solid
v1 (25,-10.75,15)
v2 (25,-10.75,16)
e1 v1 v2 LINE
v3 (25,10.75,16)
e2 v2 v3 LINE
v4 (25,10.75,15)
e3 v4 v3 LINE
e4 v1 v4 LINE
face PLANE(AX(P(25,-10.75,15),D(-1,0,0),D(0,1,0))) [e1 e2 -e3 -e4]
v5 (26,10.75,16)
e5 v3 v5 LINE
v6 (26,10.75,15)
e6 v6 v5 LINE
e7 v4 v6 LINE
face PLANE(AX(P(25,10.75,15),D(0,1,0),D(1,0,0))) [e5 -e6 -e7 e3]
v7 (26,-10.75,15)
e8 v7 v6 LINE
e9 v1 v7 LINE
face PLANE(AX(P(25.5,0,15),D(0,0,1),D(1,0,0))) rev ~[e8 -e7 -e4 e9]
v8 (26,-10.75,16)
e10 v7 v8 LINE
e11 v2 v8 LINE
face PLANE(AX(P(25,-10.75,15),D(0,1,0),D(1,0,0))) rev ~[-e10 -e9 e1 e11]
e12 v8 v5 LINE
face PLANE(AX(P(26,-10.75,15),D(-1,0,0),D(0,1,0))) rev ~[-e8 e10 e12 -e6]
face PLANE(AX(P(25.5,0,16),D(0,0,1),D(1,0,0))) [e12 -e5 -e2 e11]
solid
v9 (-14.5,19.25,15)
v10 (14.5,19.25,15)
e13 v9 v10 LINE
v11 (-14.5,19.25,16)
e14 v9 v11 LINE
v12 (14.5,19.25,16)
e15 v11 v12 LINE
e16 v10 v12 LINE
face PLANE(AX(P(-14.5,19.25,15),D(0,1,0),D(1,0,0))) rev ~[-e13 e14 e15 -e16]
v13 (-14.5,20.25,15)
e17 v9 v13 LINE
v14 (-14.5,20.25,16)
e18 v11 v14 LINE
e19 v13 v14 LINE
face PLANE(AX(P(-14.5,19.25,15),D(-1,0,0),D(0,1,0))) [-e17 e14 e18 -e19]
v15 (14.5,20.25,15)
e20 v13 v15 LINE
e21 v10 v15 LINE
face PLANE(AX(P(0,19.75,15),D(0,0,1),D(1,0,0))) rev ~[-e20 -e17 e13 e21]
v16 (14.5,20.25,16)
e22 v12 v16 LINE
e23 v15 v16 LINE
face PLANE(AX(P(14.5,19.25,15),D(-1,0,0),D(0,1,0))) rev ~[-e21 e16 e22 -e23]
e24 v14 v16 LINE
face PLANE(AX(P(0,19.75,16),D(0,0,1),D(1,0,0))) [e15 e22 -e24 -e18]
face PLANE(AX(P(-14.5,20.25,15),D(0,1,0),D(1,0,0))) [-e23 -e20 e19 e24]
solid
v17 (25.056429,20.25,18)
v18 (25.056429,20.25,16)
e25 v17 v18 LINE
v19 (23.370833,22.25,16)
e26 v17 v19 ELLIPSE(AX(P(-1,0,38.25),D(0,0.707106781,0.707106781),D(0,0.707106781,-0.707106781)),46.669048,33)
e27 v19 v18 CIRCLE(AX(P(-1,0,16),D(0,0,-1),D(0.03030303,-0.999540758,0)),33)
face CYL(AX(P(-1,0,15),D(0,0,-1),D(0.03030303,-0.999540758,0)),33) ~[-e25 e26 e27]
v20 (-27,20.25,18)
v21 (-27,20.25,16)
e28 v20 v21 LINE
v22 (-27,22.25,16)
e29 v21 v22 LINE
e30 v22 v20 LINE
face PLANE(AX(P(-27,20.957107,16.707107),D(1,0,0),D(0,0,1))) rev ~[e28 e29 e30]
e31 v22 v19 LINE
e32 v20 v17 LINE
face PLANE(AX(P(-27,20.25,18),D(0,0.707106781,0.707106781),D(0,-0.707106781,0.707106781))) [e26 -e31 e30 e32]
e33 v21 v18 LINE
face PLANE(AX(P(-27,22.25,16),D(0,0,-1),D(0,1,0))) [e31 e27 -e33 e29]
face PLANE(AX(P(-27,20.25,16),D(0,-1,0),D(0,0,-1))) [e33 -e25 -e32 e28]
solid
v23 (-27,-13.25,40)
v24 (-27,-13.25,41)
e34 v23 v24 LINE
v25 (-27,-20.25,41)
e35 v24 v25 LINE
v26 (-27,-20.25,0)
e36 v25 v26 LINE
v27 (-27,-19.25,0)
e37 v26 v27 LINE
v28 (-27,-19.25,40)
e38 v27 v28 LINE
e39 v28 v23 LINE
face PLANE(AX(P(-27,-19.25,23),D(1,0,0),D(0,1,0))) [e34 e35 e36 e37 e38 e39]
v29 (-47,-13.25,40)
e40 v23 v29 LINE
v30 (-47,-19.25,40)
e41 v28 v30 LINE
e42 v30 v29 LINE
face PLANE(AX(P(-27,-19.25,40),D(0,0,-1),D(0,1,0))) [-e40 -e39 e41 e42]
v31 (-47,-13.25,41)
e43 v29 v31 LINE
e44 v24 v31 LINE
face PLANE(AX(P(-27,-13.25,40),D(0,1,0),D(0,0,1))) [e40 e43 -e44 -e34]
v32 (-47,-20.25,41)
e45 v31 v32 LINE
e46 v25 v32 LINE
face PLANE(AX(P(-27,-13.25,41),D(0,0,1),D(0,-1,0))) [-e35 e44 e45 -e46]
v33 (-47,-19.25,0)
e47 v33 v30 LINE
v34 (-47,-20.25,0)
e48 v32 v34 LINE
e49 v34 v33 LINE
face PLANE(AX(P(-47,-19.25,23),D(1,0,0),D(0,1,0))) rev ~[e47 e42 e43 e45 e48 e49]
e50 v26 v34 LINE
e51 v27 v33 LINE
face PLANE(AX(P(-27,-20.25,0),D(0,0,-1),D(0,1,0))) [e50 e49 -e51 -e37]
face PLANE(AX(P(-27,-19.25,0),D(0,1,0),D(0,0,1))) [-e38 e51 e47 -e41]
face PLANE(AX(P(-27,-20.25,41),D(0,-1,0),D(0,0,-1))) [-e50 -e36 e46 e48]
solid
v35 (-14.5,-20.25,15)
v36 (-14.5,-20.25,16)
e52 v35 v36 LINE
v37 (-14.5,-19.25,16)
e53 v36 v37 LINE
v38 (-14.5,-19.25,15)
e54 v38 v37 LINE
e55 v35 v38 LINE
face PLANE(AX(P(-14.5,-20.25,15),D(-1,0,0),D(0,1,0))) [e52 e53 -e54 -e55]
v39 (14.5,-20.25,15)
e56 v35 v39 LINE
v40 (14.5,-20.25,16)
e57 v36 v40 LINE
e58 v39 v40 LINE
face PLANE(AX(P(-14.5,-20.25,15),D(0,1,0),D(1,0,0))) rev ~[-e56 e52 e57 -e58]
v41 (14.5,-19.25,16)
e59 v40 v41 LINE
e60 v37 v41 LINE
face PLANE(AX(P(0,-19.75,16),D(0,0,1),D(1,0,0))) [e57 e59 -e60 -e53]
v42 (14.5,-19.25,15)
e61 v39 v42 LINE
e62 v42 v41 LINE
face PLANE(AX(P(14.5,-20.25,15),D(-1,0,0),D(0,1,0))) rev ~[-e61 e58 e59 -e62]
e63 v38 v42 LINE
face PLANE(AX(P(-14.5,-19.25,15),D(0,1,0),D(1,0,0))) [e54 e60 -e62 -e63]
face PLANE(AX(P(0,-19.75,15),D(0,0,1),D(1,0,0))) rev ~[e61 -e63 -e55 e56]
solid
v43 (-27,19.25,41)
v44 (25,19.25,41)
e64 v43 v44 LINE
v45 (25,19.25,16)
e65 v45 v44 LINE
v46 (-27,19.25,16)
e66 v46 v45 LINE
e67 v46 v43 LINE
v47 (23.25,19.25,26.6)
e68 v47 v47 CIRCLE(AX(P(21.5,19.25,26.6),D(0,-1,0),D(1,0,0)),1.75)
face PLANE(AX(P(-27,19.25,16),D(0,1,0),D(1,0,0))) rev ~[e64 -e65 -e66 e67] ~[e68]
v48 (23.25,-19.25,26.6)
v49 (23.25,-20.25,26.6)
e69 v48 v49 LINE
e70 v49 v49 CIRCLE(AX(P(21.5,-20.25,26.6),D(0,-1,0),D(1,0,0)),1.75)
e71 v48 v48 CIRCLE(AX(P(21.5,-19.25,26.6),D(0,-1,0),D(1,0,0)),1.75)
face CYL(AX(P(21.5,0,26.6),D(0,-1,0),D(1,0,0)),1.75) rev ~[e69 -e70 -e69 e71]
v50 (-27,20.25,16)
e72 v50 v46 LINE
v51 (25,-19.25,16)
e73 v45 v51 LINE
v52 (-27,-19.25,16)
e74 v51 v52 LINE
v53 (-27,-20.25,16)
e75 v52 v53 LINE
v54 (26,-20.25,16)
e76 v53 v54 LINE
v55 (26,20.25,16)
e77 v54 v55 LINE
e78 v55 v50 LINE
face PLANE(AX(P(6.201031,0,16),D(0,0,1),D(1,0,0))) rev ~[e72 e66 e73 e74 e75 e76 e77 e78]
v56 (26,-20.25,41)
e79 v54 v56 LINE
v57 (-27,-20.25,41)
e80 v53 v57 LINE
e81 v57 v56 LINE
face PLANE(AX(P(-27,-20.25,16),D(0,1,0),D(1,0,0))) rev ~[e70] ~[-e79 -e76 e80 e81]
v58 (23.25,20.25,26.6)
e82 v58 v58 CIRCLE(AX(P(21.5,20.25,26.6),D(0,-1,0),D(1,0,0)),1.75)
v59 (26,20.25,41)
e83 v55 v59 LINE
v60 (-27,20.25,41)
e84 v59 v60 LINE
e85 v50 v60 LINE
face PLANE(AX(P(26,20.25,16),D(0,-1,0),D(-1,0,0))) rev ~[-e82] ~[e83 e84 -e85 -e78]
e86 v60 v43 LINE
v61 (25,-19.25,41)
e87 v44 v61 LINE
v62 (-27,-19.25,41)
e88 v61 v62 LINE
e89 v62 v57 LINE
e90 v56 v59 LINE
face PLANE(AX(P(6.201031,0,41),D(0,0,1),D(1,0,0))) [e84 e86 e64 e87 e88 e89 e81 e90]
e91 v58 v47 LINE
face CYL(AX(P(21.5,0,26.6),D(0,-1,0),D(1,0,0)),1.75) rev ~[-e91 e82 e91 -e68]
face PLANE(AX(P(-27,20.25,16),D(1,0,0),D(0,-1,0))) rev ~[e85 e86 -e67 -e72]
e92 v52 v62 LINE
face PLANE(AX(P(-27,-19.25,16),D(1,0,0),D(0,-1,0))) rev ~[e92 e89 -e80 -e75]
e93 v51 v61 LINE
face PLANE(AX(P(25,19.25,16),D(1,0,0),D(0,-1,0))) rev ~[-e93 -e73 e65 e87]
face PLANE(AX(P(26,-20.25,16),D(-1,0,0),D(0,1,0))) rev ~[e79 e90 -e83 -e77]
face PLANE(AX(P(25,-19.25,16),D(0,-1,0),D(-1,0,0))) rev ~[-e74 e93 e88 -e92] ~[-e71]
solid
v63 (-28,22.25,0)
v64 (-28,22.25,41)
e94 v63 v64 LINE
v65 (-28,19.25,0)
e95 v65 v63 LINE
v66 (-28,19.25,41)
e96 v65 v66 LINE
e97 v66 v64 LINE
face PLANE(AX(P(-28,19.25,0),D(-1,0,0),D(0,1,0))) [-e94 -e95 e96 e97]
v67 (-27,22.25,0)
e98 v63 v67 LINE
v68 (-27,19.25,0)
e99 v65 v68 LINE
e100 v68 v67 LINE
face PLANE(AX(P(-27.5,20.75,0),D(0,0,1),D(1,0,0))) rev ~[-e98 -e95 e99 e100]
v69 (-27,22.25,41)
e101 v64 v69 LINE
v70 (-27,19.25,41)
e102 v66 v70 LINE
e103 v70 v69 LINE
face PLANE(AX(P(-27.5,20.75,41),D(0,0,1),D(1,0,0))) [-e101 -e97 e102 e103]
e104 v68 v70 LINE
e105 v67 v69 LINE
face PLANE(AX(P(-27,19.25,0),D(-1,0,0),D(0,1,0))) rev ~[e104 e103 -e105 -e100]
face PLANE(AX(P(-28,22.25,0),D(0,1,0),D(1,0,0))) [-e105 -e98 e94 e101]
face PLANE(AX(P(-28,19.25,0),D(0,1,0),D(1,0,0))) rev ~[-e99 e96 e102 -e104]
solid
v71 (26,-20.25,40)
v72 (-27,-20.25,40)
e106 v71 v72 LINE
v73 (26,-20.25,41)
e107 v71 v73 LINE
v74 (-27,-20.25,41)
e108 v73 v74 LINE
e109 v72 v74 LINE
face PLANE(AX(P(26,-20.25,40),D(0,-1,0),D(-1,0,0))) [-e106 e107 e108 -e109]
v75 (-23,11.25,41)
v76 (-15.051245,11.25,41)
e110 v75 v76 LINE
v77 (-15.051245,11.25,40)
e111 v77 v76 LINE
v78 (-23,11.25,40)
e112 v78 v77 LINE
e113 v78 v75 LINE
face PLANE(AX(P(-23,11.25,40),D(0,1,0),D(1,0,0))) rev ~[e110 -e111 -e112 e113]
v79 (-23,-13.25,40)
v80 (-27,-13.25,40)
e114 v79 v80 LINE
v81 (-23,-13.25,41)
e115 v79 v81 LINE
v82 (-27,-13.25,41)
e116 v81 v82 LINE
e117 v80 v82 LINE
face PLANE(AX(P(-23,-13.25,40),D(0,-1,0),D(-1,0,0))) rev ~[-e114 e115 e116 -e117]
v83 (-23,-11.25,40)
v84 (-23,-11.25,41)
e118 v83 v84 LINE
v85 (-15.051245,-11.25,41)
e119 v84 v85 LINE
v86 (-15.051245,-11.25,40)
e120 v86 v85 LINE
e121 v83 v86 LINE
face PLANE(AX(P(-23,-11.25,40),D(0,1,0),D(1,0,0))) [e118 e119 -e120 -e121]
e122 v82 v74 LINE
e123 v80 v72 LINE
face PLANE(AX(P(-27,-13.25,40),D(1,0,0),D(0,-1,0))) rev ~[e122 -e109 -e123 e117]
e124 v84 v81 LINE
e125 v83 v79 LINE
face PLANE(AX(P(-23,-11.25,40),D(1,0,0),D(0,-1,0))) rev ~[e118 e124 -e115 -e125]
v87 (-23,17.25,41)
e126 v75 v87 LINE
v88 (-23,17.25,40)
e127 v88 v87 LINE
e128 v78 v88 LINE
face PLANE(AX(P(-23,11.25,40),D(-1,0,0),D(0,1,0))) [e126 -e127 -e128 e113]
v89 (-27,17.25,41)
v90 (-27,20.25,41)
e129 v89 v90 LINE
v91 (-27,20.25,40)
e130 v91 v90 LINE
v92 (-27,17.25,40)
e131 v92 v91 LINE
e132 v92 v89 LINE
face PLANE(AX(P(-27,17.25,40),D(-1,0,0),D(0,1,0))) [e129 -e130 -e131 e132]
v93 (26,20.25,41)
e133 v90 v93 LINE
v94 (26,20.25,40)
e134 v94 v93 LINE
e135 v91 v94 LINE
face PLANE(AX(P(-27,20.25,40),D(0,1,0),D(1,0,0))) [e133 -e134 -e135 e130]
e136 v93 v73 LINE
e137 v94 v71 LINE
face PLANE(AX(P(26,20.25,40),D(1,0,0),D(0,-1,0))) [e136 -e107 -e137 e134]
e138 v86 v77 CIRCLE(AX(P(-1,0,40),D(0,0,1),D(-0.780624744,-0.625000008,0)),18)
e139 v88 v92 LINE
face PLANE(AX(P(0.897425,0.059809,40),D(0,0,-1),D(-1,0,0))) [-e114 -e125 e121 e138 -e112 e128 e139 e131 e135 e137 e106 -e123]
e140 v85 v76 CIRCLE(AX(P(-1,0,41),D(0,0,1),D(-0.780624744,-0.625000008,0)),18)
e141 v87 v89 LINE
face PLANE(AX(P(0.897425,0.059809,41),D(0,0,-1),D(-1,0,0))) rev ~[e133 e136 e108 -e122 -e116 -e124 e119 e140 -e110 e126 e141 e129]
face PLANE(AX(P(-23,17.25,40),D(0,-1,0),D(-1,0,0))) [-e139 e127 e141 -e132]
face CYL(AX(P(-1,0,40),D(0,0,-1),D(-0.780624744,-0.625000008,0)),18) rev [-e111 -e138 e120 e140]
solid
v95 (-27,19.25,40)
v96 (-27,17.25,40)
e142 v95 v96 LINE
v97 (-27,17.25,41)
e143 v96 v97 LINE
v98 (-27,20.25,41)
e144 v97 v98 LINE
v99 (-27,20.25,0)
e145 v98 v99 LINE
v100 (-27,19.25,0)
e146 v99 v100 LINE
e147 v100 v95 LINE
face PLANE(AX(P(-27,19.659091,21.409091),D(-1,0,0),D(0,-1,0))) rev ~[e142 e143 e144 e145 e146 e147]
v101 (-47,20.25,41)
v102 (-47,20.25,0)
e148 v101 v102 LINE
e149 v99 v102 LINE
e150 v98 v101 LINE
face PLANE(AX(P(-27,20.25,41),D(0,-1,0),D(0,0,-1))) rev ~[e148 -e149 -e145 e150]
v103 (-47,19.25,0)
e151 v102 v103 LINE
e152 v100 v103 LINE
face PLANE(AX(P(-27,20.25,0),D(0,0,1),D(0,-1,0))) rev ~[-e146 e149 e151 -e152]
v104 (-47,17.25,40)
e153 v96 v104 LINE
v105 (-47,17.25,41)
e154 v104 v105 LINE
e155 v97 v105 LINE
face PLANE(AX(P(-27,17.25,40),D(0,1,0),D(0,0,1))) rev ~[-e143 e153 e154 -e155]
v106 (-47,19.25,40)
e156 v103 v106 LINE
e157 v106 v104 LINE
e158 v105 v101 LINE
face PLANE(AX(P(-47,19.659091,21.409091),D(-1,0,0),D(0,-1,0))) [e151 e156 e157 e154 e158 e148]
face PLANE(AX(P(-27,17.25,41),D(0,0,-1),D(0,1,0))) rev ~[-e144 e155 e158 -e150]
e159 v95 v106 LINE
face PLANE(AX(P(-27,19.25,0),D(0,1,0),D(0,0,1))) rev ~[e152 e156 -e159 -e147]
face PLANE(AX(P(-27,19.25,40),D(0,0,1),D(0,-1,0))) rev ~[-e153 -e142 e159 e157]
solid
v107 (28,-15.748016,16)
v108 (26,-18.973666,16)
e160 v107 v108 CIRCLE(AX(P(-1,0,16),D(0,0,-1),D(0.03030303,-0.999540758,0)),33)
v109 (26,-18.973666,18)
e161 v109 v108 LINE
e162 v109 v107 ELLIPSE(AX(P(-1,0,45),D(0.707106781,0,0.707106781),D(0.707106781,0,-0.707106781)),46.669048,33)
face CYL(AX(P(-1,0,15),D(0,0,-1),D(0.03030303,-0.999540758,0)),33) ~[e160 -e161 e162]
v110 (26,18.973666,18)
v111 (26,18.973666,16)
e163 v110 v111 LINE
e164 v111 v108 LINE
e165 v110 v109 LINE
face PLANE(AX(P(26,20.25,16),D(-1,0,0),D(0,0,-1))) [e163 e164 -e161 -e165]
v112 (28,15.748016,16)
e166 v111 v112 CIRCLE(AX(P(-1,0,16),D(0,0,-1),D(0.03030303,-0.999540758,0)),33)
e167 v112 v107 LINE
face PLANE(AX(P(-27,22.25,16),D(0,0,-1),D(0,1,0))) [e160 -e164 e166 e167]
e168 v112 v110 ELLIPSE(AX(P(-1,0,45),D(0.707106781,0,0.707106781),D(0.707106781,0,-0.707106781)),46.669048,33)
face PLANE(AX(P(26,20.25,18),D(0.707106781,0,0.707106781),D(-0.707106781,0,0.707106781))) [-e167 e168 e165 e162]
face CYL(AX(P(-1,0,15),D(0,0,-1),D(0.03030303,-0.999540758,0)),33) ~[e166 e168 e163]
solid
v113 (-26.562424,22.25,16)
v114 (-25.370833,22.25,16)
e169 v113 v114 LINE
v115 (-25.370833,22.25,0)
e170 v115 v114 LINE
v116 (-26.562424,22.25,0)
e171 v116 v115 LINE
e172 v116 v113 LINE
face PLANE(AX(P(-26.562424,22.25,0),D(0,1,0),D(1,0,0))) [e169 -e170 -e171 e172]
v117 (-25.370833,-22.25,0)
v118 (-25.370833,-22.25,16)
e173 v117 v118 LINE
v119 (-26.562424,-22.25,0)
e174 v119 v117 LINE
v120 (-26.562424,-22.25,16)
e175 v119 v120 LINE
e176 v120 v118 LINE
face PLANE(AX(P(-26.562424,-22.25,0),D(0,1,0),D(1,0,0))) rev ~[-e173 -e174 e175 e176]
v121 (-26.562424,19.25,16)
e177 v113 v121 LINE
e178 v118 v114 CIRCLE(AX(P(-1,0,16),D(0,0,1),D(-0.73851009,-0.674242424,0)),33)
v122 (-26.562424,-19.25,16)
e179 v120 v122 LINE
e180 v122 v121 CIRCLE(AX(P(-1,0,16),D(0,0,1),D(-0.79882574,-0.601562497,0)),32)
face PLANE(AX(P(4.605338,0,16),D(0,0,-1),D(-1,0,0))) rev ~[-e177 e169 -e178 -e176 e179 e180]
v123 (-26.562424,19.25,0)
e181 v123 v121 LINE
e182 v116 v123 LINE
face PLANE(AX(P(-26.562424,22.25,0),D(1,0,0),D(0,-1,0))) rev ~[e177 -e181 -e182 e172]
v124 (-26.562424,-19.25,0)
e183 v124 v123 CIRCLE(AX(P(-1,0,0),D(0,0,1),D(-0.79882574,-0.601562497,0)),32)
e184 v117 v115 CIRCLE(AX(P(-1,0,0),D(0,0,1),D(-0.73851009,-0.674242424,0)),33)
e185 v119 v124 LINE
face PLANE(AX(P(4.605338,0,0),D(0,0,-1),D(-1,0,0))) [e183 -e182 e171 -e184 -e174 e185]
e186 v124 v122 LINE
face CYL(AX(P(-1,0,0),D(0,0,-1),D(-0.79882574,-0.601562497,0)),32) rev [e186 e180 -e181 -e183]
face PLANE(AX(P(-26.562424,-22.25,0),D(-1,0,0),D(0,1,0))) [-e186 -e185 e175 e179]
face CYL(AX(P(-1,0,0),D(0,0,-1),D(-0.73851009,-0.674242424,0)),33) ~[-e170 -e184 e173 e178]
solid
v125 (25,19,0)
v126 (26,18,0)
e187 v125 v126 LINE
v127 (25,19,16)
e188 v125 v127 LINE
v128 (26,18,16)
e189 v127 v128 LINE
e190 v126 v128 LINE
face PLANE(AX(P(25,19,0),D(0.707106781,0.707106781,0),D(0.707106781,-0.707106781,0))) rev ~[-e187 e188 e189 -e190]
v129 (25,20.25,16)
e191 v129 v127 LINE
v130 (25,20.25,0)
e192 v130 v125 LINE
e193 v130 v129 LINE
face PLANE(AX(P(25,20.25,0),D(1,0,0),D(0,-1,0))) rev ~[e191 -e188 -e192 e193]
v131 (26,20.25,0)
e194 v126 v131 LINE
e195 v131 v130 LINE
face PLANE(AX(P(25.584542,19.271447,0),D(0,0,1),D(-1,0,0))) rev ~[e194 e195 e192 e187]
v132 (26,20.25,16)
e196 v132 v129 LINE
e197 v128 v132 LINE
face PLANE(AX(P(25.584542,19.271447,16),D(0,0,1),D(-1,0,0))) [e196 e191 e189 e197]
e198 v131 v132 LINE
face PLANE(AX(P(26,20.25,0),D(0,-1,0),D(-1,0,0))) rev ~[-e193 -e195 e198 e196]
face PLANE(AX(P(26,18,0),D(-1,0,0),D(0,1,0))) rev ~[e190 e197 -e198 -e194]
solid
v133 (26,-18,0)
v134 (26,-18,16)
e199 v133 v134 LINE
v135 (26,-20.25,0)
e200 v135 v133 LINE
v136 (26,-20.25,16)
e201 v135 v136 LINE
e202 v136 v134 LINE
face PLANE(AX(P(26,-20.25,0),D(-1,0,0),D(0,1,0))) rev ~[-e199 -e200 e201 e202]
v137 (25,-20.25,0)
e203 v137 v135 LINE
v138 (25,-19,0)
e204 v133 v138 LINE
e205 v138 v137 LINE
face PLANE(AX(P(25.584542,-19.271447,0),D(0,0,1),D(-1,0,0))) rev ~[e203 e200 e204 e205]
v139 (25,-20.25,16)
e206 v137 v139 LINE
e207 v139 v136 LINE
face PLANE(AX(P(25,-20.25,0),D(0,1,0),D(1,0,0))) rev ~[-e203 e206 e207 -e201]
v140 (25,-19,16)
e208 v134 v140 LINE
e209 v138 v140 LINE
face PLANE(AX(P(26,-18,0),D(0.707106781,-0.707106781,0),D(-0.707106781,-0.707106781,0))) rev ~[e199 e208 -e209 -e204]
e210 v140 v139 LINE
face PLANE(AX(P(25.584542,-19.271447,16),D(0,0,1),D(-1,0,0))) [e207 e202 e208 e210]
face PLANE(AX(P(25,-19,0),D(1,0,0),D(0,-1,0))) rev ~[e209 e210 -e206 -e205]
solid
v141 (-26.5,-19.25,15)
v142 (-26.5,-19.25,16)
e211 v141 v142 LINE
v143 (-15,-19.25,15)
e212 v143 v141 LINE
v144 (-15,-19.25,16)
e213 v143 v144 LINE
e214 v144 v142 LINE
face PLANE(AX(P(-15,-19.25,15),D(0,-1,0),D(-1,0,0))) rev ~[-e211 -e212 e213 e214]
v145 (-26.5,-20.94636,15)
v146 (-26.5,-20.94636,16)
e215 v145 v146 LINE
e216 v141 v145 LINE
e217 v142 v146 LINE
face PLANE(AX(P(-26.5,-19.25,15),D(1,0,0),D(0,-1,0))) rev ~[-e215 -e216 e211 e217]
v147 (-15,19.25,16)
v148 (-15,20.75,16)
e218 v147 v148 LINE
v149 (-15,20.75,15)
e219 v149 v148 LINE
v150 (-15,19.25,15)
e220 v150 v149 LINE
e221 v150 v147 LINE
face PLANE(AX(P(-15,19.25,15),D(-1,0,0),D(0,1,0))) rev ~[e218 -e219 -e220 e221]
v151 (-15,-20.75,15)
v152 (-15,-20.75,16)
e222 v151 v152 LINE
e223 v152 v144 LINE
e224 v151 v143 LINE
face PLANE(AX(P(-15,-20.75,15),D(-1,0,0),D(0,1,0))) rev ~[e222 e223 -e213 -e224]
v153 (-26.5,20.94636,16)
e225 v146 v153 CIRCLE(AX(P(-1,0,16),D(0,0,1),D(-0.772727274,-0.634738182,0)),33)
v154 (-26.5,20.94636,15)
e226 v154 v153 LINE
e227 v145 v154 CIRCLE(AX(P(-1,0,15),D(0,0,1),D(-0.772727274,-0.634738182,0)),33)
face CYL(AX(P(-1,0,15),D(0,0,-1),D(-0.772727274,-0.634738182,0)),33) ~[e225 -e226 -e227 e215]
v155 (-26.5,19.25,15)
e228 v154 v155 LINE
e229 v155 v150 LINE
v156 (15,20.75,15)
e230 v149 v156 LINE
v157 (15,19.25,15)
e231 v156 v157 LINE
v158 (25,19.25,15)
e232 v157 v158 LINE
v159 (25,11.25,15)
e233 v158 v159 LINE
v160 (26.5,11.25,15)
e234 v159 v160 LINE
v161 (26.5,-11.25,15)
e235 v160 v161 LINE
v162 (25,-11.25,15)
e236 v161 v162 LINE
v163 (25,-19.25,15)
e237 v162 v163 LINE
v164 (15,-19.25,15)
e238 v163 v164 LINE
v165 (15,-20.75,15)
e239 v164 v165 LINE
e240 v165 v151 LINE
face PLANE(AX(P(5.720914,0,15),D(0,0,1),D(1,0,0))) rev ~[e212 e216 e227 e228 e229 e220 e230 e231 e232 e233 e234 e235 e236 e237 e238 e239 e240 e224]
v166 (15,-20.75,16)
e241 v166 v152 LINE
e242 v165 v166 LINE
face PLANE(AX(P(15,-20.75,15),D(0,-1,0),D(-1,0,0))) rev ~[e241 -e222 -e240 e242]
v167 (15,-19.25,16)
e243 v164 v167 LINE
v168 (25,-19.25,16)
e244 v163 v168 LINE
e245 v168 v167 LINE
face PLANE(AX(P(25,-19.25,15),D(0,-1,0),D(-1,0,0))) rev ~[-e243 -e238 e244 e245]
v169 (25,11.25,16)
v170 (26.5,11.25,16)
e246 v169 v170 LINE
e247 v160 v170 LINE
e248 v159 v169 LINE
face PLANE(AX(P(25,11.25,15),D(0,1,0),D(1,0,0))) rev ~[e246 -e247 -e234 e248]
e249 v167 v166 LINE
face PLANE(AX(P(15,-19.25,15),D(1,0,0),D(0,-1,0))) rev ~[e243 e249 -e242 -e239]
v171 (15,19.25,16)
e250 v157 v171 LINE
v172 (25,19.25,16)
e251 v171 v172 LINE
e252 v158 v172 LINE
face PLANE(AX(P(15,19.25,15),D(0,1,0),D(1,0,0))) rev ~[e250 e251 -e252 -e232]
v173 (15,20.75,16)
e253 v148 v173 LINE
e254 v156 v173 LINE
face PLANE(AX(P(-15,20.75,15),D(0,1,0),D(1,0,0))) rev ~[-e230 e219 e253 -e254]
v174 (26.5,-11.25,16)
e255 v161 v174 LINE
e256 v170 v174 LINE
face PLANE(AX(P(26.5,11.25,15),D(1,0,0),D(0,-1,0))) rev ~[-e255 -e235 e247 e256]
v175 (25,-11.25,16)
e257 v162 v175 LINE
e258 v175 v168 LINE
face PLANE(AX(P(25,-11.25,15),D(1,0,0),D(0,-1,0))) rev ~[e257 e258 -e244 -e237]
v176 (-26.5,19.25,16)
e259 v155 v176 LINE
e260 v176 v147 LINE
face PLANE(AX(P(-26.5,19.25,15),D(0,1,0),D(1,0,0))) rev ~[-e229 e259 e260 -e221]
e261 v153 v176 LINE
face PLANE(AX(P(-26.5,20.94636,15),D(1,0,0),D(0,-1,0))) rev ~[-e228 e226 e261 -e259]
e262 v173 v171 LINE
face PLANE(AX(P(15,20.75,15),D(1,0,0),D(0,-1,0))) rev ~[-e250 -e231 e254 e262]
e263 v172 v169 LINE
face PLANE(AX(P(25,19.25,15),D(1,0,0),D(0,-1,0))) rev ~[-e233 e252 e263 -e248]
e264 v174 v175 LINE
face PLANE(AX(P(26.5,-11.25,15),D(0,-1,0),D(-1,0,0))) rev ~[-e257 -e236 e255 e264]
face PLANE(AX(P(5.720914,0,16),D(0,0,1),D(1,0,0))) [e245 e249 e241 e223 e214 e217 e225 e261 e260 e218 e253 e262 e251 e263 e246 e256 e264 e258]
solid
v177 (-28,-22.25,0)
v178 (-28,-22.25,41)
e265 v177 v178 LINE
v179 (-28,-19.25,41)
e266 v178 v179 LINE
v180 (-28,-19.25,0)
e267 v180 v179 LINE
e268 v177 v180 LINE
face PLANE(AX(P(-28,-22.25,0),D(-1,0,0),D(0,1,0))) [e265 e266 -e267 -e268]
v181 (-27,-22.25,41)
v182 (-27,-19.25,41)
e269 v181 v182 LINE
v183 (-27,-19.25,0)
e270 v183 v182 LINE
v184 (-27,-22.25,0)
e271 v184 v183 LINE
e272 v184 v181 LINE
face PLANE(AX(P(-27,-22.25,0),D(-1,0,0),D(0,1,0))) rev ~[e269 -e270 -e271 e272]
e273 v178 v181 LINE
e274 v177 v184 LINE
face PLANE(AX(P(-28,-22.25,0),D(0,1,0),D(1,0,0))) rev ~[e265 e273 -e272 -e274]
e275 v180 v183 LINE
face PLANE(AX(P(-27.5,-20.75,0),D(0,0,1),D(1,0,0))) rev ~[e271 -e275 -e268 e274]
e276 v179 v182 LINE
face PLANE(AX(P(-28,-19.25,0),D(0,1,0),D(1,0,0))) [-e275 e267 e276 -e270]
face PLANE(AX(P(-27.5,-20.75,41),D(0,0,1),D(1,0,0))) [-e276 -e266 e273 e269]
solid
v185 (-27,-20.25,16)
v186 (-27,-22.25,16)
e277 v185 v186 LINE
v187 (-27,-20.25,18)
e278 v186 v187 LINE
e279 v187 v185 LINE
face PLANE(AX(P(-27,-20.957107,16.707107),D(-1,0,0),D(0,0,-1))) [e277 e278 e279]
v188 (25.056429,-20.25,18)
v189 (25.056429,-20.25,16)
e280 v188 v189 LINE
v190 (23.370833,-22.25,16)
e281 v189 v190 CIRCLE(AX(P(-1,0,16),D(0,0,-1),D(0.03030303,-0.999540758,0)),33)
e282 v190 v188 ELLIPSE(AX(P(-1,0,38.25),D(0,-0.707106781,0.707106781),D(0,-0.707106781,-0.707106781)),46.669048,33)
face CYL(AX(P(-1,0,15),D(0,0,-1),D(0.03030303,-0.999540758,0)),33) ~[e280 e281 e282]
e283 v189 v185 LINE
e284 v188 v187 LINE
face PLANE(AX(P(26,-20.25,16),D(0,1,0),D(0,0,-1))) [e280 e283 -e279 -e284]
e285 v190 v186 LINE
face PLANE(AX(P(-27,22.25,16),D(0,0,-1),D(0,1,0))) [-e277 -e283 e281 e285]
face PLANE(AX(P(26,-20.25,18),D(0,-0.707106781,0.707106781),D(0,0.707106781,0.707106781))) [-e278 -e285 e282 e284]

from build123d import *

# Parameters (mm, degrees)
EXTRUDE_DEPTH    = 16
EXTRUDE001_DEPTH = 1
EXTRUDE004_DEPTH = 1
SKETCH003_R      = 1.75
EXTRUDE003_DEPTH = 25
EXTRUDE002_DEPTH = 25
EXTRUDE005_DEPTH = 5
SKETCH008_W      = 29
SKETCH008_H      = 1
SKETCH008_W_2    = 1
SKETCH008_H_2    = 21.5
EXTRUDE006_DEPTH = 1
EXTRUDE007_DEPTH = 16
EXTRUDE008_DEPTH = 20
SKETCH011_W      = 1
SKETCH011_H      = 3
EXTRUDE009_DEPTH = 41


with BuildPart() as extrude_body:
    # Sketch → Extrude (new body)
    with BuildSketch(Plane.XY):
        with BuildLine():
            ThreePointArc((-26.562424, -19.25), (31, 0), (-26.562424, 19.25))
            Line((-26.562424, 22.25), (-26.562424, 19.25))
            Line((-26.562424, 22.25), (-25.370833, 22.25))
            ThreePointArc((-25.370833, -22.25), (32, 0), (-25.370833, 22.25))
            Line((-26.562424, -22.25), (-25.370833, -22.25))
            Line((-26.562424, -22.25), (-26.562424, -19.25))
        make_face()
    extrude(amount=EXTRUDE_DEPTH)


with BuildPart() as extrude001:
    # Sketch001 → Extrude001 (new body)
    with BuildSketch(Plane.XY.offset(15)):
        with BuildLine():
            ThreePointArc((-26.5, -20.94636), (32, 0), (-26.5, 20.94636))
            Line((-26.5, 20.94636), (-26.5, 19.25))
            Line((-26.5, 19.25), (-15, 19.25))
            Line((-15, 19.25), (-15, 20.75))
            Line((-15, 20.75), (15, 20.75))
            Line((15, 20.75), (15, 19.25))
            Line((15, 19.25), (25, 19.25))
            Line((25, 19.25), (25, 11.25))
            Line((25, 11.25), (26.5, 11.25))
            Line((26.5, 11.25), (26.5, -11.25))
            Line((26.5, -11.25), (25, -11.25))
            Line((25, -11.25), (25, -19.25))
            Line((25, -19.25), (15, -19.25))
            Line((15, -19.25), (15, -20.75))
            Line((15, -20.75), (-15, -20.75))
            Line((-15, -20.75), (-15, -19.25))
            Line((-15, -19.25), (-26.5, -19.25))
            Line((-26.5, -19.25), (-26.5, -20.94636))
        make_face()
    extrude(amount=EXTRUDE001_DEPTH)


with BuildPart() as extrude004:
    # Sketch004 → Extrude004 (new body)
    with BuildSketch(Plane.XY.offset(40)):
        with BuildLine():
            Line((-27, 20.25), (26, 20.25))
            Line((26, 20.25), (26, -20.25))
            Line((26, -20.25), (-27, -20.25))
            Line((-27, -13.25), (-27, -20.25))
            Line((-23, -13.25), (-27, -13.25))
            Line((-23, -11.25), (-23, -13.25))
            Line((-23, -11.25), (-15.051245, -11.25))
            ThreePointArc((-15.051245, -11.25), (17, 0), (-15.051245, 11.25))
            Line((-23, 11.25), (-15.051245, 11.25))
            Line((-23, 11.25), (-23, 17.25))
            Line((-23, 17.25), (-27, 17.25))
            Line((-27, 17.25), (-27, 20.25))
        make_face()
    extrude(amount=EXTRUDE004_DEPTH)


with BuildPart() as extrude003:
    # Sketch003 → Extrude003 (new body, symmetric)
    with BuildSketch(Plane.XZ):
        with Locations((21.5, 26.6)):
            Circle(SKETCH003_R)
    extrude(amount=EXTRUDE003_DEPTH, both=True)


with BuildPart() as cut:
    # Sketch002 → Extrude002 (new body)
    with BuildSketch(Plane.XY.offset(16)):
        Polygon((-27, 19.25), (25, 19.25), (25, -19.25), (-27, -19.25), (-27, -20.25), (26, -20.25), (26, 20.25), (-27, 20.25), align=None)
    extrude(amount=EXTRUDE002_DEPTH)

    # Cut: cut Extrude003
    add(extrude003.part, mode=Mode.SUBTRACT)


with BuildPart() as sweep_body:
    # Sweep: sweep along a path in Sketch006
    with BuildLine(Plane.XY.offset(16)) as sweep_path:
        Line((-27, 20.25), (26, 20.25))
        Line((26, 20.25), (26, -20.25))
        Line((26, -20.25), (-27, -20.25))
    # Sketch005 → Sweep (sweep)
    with BuildSketch(Plane.XZ):
        Polygon((26, 18), (28, 16), (26, 16), align=None)
    sweep(path=sweep_path.line, transition=Transition.RIGHT)


with BuildPart() as common:
    # Sketch007 → Extrude005 (new body)
    with BuildSketch(Plane.XY.offset(15)):
        with BuildLine():
            ThreePointArc((0, -32.984845), (32, 0), (0, 32.984845))
            Line((0, 32.984845), (-28, 32.984845))
            Line((-28, 32.984845), (-28, -32.984845))
            Line((-28, -32.984845), (0, -32.984845))
        make_face()
    extrude(amount=EXTRUDE005_DEPTH)

    # Common: intersect Sweep body
    add(sweep_body.part, mode=Mode.INTERSECT)


with BuildPart() as extrude006:
    # Sketch008 → Extrude006 (new body)
    with BuildSketch(Plane.XY.offset(15)):
        with Locations((0, 19.75)):
            Rectangle(SKETCH008_W, SKETCH008_H)
        with Locations((25.5, 0)):
            Rectangle(SKETCH008_W_2, SKETCH008_H_2)
        with Locations((0, -19.75)):
            Rectangle(SKETCH008_W, SKETCH008_H)
    extrude(amount=EXTRUDE006_DEPTH)


with BuildPart() as extrude007:
    # Sketch009 → Extrude007 (new body)
    with BuildSketch(Plane(origin=(0, 0, 0), x_dir=(1, 0, 0), z_dir=(0, 0, -1))):
        Polygon((25, 20.25), (26, 20.25), (26, 18), (25, 19), align=None)
        Polygon((25, -19), (26, -18), (26, -20.25), (25, -20.25), align=None)
    extrude(amount=-EXTRUDE007_DEPTH)


with BuildPart() as extrude008:
    # Sketch010 → Extrude008 (new body)
    with BuildSketch(Plane(origin=(-27, 0, 0), x_dir=(0, -1, 0), z_dir=(-1, 0, 0))):
        Polygon((-19.25, 0), (-19.25, 40), (-17.25, 40), (-17.25, 41), (-20.25, 41), (-20.25, 0), align=None)
        Polygon((19.25, 0), (19.25, 40), (13.25, 40), (13.25, 41), (20.25, 41), (20.25, 0), align=None)
    extrude(amount=EXTRUDE008_DEPTH)


with BuildPart() as extrude009:
    # Sketch011 → Extrude009 (new body)
    with BuildSketch(Plane.XY):
        with Locations((-27.5, 20.75)):
            Rectangle(SKETCH011_W, SKETCH011_H)
        with Locations((-27.5, -20.75)):
            Rectangle(SKETCH011_W, SKETCH011_H)
    extrude(amount=EXTRUDE009_DEPTH)


solid = Compound([extrude_body.part, extrude001.part, extrude004.part, cut.part, common.part, extrude006.part, extrude007.part, extrude008.part, extrude009.part])
